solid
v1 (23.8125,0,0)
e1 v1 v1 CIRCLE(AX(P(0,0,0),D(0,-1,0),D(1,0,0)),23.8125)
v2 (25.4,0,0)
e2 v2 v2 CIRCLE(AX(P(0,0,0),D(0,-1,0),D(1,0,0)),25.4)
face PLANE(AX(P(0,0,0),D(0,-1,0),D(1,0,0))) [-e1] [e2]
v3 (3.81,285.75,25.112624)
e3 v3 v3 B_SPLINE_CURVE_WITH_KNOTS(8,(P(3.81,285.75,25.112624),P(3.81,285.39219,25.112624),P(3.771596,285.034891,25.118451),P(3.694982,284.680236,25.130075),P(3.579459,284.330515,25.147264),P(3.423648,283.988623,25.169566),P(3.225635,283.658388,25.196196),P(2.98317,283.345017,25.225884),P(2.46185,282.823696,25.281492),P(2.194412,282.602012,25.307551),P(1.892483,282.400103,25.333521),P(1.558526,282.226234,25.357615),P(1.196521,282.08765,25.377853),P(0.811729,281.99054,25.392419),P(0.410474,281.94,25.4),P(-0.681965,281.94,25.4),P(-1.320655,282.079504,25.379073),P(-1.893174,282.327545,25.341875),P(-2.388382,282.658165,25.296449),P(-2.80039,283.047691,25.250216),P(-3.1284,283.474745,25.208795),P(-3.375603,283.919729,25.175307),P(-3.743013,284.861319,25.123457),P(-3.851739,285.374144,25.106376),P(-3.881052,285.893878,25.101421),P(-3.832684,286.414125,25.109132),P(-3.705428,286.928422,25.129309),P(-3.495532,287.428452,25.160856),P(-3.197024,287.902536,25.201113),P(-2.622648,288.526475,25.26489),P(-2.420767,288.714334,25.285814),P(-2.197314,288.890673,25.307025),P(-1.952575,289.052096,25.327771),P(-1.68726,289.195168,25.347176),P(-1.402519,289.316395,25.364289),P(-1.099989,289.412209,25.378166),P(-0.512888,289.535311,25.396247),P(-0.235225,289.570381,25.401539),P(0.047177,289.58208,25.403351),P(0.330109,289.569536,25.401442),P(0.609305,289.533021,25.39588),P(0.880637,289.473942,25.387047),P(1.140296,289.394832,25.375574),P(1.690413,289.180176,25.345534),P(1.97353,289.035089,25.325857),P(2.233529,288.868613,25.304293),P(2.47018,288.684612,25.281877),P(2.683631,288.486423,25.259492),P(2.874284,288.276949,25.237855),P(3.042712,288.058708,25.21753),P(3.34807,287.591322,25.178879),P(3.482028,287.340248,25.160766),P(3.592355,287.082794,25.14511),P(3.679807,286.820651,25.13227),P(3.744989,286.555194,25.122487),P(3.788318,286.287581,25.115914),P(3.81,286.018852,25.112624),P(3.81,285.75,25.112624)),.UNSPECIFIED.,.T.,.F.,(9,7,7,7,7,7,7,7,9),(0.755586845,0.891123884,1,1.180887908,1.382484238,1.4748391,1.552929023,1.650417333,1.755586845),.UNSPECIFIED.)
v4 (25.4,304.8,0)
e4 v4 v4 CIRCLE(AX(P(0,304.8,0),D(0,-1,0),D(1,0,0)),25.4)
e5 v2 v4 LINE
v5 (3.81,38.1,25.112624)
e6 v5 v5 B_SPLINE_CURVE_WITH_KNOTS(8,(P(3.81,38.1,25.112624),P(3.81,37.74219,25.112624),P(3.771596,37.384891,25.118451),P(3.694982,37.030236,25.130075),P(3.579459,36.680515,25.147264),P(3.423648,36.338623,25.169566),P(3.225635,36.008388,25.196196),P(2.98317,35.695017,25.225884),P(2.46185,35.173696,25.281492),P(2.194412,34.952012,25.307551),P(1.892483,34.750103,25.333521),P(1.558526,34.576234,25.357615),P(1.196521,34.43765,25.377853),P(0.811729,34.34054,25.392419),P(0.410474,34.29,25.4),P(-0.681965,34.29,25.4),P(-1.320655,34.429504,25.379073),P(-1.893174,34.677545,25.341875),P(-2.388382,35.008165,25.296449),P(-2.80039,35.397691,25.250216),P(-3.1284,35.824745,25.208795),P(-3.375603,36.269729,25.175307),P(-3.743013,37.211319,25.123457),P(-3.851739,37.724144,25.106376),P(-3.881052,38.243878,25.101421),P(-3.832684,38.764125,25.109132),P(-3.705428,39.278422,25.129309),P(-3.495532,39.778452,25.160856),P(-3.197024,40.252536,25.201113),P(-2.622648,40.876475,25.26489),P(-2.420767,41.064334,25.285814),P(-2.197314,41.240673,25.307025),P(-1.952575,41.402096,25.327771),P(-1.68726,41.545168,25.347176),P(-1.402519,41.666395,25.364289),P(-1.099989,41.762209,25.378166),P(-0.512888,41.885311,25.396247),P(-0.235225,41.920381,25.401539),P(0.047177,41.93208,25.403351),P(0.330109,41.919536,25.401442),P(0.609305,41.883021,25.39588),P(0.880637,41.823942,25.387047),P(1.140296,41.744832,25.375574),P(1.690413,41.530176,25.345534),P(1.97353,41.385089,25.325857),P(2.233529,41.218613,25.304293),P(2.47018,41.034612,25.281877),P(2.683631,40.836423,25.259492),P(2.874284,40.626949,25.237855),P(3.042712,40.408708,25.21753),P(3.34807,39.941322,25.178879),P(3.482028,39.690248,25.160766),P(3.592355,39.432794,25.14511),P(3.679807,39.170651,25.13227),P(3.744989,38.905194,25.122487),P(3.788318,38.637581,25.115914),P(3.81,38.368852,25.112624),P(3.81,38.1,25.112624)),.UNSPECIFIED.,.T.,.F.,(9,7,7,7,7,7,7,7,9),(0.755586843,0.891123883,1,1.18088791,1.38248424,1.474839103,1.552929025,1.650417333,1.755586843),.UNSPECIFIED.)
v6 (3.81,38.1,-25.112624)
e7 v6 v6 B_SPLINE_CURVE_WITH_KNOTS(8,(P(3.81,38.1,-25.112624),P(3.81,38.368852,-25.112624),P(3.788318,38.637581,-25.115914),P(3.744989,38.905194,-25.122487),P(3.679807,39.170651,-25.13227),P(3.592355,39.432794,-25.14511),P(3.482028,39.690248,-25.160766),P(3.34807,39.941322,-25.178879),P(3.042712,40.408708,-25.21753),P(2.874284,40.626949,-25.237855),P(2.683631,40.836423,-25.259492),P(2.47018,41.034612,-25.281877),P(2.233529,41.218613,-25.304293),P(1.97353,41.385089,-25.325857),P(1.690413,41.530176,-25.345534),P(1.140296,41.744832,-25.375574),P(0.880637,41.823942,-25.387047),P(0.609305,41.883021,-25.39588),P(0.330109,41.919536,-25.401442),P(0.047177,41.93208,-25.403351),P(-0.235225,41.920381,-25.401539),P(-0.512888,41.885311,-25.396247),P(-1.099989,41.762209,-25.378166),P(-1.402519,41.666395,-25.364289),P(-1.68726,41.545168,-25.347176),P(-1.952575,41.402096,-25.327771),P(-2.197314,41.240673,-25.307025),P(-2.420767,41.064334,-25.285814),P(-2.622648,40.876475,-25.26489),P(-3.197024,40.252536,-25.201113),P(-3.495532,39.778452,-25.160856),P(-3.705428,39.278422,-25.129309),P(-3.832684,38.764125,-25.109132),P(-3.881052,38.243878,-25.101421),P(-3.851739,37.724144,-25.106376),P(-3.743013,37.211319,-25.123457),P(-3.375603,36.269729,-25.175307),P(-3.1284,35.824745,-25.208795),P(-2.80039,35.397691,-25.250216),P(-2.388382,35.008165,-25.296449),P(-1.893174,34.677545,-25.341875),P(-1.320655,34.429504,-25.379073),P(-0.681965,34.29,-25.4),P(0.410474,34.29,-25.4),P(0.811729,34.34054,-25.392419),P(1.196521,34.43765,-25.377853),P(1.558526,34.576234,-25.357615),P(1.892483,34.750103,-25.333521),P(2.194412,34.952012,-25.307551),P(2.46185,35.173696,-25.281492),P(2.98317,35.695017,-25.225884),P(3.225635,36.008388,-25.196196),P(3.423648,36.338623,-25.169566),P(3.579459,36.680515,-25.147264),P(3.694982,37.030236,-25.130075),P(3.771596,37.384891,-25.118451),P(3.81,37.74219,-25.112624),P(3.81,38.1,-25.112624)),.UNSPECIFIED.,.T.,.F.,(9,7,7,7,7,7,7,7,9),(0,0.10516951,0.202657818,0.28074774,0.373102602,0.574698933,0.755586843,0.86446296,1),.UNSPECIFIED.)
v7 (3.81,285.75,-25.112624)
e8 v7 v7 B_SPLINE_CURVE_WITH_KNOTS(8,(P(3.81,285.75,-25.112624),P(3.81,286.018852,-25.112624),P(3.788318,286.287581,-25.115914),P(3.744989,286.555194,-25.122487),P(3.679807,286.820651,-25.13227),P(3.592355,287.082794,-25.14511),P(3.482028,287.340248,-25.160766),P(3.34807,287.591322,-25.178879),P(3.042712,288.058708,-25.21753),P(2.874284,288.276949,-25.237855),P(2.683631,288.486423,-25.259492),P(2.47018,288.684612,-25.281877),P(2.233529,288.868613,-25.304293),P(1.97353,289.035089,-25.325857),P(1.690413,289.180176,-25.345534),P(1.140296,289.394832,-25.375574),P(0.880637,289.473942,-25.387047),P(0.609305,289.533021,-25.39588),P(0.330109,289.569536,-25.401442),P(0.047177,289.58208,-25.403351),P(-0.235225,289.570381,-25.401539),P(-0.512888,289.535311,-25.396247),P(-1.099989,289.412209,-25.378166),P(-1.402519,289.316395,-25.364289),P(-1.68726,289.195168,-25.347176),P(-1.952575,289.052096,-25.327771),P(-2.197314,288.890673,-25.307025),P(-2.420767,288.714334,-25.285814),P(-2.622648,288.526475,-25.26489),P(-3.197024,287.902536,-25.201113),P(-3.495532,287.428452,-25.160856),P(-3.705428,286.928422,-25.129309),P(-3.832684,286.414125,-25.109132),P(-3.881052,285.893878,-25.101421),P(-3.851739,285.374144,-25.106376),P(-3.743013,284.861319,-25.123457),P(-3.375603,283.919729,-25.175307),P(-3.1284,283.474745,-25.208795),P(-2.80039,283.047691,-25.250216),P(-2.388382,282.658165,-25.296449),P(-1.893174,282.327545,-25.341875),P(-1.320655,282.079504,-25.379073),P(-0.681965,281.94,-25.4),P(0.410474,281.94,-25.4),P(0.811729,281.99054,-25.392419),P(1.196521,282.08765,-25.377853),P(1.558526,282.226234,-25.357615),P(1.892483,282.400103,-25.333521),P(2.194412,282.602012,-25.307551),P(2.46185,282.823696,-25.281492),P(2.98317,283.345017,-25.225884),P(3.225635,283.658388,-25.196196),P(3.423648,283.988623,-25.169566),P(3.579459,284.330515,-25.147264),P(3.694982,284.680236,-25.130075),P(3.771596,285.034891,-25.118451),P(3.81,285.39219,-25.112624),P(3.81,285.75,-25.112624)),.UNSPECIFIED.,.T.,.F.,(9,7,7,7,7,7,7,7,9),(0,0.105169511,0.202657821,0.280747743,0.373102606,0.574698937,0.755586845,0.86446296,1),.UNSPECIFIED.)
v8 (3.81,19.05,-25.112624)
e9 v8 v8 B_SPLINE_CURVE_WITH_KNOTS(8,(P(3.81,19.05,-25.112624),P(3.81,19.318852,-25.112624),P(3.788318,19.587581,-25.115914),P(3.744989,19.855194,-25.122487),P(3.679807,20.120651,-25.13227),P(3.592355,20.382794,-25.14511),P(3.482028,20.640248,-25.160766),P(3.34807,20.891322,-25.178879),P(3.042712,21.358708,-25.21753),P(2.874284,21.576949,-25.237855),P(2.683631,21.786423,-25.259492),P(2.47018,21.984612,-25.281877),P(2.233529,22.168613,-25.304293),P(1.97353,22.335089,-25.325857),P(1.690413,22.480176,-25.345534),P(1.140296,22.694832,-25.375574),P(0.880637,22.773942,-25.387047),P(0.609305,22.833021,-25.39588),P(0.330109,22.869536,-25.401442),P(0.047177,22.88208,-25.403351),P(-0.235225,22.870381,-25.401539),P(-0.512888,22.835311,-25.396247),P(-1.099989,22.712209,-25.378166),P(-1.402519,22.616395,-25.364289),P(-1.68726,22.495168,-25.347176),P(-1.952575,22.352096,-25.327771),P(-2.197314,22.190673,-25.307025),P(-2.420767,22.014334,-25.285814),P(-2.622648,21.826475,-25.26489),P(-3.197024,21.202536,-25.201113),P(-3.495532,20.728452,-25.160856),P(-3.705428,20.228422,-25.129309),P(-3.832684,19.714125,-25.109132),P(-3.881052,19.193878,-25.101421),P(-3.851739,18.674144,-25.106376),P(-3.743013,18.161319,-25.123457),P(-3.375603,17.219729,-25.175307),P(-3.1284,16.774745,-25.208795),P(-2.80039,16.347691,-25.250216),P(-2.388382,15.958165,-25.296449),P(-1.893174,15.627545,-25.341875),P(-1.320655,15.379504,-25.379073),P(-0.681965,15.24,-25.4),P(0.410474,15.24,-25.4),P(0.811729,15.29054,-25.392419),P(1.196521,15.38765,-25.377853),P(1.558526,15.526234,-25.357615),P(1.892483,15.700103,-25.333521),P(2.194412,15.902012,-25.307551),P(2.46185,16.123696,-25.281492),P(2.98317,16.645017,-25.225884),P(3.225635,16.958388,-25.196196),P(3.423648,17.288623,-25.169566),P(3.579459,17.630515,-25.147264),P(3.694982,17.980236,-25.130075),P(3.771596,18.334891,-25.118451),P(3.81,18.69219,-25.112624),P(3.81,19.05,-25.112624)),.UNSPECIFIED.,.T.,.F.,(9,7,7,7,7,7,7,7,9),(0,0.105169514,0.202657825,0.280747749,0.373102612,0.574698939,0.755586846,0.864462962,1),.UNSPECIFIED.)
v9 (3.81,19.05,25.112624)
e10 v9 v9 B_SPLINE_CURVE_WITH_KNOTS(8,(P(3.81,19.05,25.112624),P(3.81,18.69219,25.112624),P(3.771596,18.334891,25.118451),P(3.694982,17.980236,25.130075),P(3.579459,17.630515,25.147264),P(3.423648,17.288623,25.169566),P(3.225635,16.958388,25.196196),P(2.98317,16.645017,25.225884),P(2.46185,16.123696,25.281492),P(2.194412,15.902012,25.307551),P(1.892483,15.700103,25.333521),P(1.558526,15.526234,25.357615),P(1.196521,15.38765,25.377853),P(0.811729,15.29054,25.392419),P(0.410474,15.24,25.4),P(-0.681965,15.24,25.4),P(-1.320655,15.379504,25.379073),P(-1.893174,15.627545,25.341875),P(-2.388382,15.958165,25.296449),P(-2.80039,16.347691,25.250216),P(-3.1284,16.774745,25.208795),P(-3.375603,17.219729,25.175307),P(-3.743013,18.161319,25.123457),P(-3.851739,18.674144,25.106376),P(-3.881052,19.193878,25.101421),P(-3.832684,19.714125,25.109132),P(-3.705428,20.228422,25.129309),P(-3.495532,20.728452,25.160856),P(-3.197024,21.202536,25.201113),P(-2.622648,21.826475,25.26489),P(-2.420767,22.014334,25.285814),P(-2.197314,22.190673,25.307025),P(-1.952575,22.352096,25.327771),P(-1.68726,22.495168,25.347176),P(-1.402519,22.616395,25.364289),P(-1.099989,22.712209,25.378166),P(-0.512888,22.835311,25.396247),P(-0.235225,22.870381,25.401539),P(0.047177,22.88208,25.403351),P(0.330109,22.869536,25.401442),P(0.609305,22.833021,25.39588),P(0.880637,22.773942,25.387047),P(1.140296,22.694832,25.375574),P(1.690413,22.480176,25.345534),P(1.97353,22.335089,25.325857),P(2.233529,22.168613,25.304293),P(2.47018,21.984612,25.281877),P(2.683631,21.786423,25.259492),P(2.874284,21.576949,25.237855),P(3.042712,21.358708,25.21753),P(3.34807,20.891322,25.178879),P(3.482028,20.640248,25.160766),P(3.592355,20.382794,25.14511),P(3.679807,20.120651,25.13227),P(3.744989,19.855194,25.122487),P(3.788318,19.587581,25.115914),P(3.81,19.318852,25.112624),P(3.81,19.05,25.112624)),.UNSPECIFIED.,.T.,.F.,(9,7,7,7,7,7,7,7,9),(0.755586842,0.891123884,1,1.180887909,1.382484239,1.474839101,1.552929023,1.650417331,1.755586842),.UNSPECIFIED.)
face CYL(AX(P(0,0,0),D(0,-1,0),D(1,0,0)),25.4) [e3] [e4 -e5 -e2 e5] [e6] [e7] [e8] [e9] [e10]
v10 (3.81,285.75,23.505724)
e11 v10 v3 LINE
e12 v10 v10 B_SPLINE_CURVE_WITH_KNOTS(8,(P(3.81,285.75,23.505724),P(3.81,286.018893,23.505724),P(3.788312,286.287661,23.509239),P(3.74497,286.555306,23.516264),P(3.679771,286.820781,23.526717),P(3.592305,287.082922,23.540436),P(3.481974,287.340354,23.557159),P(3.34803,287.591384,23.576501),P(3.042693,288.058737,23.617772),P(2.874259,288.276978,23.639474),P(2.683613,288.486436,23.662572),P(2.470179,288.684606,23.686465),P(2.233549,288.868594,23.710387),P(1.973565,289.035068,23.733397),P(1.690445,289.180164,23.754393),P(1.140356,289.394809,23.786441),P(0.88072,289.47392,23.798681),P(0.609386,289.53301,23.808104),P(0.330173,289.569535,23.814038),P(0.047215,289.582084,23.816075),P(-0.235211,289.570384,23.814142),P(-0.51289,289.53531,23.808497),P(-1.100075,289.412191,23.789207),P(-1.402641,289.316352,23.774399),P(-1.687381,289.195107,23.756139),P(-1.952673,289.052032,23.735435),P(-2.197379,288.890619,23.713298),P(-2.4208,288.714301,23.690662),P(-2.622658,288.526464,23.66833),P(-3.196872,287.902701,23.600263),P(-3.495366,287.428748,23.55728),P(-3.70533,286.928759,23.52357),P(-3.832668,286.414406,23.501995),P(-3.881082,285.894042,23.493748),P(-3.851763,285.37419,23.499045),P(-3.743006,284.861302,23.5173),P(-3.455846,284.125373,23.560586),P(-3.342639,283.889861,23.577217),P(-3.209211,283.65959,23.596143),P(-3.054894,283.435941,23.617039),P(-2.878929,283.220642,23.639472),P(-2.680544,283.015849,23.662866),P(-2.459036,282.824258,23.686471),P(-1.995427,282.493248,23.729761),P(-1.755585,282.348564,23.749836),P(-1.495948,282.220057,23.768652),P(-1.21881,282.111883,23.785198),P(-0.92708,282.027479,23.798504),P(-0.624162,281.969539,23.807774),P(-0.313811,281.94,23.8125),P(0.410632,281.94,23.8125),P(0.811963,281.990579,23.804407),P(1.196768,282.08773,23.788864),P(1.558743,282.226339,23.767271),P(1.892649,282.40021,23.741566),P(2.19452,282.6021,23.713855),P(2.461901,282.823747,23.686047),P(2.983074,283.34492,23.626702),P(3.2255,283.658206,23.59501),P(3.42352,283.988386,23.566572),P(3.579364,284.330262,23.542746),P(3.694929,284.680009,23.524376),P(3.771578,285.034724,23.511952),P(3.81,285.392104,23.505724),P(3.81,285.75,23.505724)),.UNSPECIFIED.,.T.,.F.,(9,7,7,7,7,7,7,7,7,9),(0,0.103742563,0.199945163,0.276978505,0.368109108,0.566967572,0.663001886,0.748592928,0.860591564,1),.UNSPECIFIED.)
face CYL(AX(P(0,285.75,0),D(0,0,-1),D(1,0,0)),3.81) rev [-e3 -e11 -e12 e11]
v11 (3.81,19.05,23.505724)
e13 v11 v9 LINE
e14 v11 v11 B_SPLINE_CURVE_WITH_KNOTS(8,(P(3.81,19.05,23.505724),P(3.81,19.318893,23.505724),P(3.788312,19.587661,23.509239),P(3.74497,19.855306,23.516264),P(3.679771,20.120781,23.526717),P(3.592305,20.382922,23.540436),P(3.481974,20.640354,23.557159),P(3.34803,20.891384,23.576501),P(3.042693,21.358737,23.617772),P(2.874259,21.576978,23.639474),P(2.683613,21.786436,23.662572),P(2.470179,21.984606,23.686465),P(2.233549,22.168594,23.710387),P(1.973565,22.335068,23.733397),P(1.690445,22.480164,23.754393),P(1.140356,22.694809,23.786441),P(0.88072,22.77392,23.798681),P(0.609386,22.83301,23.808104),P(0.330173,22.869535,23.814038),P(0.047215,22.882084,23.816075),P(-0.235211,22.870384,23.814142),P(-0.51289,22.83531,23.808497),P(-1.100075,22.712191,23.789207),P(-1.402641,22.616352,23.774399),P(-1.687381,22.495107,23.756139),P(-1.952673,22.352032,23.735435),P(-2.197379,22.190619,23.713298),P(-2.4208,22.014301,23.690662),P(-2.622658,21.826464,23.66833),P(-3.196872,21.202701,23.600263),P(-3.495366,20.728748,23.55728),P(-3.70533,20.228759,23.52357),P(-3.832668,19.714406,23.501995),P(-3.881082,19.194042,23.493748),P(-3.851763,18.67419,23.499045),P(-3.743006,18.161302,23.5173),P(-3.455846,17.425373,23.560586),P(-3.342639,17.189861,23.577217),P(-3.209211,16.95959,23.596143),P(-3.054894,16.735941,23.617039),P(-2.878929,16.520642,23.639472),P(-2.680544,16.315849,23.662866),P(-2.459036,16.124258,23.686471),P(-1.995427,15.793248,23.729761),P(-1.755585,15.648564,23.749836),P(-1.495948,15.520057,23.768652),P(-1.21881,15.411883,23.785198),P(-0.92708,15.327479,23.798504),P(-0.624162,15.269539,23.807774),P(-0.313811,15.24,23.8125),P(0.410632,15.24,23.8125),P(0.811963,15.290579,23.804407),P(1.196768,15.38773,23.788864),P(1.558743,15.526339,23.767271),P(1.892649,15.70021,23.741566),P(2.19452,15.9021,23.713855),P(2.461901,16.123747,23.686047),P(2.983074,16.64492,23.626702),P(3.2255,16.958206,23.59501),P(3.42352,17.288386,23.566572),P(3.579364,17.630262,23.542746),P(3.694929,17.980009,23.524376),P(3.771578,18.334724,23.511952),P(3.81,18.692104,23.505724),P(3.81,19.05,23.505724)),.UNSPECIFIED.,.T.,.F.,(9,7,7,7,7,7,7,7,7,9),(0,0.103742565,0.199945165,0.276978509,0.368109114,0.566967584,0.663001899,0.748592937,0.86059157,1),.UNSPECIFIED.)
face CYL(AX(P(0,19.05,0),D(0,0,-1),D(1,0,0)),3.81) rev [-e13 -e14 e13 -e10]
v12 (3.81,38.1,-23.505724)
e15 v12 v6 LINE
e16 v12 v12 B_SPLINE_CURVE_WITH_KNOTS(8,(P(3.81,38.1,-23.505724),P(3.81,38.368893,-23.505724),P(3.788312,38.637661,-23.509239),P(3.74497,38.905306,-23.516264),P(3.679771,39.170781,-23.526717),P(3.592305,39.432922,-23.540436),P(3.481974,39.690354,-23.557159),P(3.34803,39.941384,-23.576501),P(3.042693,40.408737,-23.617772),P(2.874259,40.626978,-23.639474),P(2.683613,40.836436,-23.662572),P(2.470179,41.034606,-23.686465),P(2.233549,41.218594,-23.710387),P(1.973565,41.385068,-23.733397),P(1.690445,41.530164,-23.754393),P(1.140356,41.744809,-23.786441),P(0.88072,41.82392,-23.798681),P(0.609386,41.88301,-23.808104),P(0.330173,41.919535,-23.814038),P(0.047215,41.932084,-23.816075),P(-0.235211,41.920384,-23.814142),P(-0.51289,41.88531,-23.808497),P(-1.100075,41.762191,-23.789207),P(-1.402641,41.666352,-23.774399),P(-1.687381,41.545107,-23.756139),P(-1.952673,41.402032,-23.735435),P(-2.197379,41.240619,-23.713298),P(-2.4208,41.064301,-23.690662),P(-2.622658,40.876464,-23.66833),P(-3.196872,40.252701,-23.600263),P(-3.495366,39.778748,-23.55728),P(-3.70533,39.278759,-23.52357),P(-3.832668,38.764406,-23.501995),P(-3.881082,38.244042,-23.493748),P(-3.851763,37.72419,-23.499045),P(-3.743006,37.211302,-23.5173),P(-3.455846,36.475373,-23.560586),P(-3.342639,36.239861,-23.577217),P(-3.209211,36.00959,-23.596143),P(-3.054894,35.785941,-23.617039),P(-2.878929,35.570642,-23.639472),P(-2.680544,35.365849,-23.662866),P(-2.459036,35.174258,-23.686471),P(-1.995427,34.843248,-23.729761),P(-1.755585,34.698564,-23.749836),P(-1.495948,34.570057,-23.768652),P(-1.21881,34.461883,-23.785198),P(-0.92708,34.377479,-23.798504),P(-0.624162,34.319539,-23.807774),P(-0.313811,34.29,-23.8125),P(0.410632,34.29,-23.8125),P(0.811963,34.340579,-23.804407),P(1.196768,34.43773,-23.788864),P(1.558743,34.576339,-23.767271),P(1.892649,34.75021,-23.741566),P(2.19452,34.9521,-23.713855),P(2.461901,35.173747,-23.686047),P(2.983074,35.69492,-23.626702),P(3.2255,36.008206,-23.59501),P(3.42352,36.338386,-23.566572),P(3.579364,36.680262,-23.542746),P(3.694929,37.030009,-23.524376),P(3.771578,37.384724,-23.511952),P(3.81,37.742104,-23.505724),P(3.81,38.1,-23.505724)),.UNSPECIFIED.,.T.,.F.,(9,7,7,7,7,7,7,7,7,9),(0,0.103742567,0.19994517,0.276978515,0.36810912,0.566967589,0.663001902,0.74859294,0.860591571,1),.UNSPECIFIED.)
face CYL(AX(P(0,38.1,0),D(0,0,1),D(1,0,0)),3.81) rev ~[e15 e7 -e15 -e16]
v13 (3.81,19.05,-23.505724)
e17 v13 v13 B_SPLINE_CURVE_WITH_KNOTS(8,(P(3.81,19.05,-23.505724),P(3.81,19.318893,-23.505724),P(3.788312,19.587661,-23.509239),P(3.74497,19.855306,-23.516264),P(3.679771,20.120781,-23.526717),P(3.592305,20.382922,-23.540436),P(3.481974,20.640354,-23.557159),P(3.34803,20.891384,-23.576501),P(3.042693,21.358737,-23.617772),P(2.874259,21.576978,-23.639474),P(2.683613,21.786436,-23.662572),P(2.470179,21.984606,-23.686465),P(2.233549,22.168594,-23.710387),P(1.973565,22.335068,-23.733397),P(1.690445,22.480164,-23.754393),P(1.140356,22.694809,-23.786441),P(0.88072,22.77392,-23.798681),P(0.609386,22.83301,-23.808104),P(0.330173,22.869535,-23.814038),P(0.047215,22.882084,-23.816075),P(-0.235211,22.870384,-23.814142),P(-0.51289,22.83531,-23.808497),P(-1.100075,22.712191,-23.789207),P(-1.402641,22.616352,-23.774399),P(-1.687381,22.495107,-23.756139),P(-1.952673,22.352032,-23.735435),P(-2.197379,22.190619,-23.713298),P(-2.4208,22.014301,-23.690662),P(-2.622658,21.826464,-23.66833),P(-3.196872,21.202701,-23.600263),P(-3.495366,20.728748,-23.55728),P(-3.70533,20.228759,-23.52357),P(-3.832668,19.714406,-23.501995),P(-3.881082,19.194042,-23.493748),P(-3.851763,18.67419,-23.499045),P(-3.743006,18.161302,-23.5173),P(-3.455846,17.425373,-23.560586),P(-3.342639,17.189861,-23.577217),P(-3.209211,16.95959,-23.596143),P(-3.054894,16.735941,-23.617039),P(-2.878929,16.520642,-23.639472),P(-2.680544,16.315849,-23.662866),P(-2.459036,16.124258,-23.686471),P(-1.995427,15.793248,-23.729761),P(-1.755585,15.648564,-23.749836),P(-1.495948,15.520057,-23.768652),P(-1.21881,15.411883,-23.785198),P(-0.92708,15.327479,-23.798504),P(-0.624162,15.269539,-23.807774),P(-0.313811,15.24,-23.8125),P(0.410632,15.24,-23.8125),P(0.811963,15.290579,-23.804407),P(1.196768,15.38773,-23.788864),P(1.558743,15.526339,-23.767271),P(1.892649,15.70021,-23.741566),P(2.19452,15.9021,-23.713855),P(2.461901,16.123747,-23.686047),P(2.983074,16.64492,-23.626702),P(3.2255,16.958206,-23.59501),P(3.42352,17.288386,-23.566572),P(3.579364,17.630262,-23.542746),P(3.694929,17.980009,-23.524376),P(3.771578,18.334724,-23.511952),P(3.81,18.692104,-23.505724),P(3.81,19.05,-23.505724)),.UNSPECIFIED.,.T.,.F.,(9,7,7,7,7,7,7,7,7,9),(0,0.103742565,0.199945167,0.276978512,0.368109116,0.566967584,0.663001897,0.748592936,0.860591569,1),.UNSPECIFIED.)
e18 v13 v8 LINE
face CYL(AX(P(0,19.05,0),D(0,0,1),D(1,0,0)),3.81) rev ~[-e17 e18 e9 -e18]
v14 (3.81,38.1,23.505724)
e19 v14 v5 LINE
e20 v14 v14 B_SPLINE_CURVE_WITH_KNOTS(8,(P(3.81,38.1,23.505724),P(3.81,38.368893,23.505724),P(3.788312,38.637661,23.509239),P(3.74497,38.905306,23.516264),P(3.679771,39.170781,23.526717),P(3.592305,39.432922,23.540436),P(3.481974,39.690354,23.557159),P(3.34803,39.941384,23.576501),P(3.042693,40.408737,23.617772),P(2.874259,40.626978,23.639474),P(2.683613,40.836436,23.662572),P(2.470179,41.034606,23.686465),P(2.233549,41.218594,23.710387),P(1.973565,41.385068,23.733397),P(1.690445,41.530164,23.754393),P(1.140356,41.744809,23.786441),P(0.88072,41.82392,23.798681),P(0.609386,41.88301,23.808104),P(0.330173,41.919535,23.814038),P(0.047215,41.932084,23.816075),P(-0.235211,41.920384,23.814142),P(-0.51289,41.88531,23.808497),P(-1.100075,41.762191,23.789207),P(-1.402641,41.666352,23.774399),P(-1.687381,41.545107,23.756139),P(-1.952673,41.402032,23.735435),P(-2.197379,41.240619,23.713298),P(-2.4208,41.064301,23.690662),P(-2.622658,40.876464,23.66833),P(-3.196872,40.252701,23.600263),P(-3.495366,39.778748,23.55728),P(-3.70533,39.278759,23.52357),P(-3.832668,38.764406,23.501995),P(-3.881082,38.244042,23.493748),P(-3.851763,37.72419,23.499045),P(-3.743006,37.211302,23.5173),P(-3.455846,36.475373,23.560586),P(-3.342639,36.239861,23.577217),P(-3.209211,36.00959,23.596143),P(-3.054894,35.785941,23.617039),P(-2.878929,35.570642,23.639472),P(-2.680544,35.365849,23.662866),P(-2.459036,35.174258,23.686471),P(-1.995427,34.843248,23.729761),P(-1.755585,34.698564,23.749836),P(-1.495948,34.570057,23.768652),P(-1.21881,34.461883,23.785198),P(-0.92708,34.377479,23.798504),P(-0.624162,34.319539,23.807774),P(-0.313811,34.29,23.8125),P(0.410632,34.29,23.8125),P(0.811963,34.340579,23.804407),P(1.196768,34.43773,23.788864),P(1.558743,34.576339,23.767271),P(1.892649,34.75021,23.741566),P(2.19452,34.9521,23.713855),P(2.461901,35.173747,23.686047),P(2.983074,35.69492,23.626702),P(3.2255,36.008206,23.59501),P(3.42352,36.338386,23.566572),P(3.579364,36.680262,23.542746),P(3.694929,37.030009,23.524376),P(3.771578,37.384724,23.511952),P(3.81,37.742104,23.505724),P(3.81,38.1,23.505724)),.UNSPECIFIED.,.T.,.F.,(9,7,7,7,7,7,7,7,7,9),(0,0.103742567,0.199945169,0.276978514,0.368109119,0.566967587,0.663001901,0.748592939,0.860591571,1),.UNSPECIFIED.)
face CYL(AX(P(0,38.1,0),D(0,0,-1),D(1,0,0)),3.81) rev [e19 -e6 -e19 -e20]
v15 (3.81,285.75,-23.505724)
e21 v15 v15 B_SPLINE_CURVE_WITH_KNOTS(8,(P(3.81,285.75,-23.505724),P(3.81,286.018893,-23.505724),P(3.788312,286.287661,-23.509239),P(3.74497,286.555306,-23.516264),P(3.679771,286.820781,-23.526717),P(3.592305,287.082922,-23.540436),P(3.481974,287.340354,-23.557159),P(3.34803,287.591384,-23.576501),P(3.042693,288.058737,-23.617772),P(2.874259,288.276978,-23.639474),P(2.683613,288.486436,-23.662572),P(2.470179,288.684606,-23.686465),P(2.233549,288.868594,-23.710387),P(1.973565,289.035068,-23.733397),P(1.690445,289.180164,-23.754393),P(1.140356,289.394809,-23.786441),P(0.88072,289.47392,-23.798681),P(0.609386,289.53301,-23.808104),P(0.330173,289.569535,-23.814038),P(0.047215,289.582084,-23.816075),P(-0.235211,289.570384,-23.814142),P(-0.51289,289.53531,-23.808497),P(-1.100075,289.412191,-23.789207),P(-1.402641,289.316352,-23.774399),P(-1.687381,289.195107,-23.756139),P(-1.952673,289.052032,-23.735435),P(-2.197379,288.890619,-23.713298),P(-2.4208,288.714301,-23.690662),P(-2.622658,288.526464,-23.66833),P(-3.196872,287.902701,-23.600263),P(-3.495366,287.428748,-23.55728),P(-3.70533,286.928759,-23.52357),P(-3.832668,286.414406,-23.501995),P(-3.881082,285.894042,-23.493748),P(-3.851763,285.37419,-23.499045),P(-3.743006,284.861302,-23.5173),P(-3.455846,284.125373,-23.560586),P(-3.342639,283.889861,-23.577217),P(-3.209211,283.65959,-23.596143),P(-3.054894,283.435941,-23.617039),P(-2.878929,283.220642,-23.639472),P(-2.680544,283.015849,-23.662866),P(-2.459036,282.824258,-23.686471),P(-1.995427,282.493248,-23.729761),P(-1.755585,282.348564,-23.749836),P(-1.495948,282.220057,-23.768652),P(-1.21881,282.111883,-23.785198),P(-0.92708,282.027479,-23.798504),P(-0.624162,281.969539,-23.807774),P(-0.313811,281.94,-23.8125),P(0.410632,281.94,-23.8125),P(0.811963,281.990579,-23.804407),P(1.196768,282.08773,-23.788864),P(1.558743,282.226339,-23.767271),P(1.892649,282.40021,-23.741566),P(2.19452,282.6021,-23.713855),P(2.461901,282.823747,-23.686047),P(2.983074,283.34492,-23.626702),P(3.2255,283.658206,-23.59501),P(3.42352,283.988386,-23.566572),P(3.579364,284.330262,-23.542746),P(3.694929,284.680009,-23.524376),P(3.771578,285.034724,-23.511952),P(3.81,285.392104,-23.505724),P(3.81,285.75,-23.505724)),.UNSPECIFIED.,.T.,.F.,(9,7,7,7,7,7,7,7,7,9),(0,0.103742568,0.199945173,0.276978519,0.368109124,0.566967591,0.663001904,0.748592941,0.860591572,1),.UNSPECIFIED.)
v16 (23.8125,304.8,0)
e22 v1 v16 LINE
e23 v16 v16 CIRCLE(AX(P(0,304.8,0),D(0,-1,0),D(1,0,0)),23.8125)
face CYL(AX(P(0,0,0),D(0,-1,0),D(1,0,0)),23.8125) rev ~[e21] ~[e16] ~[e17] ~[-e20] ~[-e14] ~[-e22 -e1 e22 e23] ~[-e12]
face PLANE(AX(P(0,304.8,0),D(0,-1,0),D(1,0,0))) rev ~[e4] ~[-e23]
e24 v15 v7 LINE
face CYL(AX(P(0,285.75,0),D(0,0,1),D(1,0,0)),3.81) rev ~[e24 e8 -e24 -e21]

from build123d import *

# Parameters (mm, degrees)
F0_R          = 25.4
F0_R_2        = 23.8125
F1_DEPTH      = 304.8
F3_R          = 3.81
F4_DEPTH      = 25.4
F4_DEPTH_BACK = 25.4


with BuildPart() as f1:
    # F0 (on Front) → F1 (new body)
    with BuildSketch(Plane.XZ):
        Circle(F0_R)
        Circle(F0_R_2, mode=Mode.SUBTRACT)
    extrude(amount=-F1_DEPTH)

    # F3 (on Top) → F4 (cut, two sides)
    with BuildSketch(Plane.XY) as f4_sk:
        with Locations((0, 19.05)):
            Circle(F3_R)
        with Locations((0, 285.75)):
            Circle(F3_R)
        with Locations((0, 38.1)):
            Circle(F3_R)
    extrude(amount=F4_DEPTH, mode=Mode.SUBTRACT)
    extrude(f4_sk.sketch, amount=-F4_DEPTH_BACK, mode=Mode.SUBTRACT)


solid = f1.part
